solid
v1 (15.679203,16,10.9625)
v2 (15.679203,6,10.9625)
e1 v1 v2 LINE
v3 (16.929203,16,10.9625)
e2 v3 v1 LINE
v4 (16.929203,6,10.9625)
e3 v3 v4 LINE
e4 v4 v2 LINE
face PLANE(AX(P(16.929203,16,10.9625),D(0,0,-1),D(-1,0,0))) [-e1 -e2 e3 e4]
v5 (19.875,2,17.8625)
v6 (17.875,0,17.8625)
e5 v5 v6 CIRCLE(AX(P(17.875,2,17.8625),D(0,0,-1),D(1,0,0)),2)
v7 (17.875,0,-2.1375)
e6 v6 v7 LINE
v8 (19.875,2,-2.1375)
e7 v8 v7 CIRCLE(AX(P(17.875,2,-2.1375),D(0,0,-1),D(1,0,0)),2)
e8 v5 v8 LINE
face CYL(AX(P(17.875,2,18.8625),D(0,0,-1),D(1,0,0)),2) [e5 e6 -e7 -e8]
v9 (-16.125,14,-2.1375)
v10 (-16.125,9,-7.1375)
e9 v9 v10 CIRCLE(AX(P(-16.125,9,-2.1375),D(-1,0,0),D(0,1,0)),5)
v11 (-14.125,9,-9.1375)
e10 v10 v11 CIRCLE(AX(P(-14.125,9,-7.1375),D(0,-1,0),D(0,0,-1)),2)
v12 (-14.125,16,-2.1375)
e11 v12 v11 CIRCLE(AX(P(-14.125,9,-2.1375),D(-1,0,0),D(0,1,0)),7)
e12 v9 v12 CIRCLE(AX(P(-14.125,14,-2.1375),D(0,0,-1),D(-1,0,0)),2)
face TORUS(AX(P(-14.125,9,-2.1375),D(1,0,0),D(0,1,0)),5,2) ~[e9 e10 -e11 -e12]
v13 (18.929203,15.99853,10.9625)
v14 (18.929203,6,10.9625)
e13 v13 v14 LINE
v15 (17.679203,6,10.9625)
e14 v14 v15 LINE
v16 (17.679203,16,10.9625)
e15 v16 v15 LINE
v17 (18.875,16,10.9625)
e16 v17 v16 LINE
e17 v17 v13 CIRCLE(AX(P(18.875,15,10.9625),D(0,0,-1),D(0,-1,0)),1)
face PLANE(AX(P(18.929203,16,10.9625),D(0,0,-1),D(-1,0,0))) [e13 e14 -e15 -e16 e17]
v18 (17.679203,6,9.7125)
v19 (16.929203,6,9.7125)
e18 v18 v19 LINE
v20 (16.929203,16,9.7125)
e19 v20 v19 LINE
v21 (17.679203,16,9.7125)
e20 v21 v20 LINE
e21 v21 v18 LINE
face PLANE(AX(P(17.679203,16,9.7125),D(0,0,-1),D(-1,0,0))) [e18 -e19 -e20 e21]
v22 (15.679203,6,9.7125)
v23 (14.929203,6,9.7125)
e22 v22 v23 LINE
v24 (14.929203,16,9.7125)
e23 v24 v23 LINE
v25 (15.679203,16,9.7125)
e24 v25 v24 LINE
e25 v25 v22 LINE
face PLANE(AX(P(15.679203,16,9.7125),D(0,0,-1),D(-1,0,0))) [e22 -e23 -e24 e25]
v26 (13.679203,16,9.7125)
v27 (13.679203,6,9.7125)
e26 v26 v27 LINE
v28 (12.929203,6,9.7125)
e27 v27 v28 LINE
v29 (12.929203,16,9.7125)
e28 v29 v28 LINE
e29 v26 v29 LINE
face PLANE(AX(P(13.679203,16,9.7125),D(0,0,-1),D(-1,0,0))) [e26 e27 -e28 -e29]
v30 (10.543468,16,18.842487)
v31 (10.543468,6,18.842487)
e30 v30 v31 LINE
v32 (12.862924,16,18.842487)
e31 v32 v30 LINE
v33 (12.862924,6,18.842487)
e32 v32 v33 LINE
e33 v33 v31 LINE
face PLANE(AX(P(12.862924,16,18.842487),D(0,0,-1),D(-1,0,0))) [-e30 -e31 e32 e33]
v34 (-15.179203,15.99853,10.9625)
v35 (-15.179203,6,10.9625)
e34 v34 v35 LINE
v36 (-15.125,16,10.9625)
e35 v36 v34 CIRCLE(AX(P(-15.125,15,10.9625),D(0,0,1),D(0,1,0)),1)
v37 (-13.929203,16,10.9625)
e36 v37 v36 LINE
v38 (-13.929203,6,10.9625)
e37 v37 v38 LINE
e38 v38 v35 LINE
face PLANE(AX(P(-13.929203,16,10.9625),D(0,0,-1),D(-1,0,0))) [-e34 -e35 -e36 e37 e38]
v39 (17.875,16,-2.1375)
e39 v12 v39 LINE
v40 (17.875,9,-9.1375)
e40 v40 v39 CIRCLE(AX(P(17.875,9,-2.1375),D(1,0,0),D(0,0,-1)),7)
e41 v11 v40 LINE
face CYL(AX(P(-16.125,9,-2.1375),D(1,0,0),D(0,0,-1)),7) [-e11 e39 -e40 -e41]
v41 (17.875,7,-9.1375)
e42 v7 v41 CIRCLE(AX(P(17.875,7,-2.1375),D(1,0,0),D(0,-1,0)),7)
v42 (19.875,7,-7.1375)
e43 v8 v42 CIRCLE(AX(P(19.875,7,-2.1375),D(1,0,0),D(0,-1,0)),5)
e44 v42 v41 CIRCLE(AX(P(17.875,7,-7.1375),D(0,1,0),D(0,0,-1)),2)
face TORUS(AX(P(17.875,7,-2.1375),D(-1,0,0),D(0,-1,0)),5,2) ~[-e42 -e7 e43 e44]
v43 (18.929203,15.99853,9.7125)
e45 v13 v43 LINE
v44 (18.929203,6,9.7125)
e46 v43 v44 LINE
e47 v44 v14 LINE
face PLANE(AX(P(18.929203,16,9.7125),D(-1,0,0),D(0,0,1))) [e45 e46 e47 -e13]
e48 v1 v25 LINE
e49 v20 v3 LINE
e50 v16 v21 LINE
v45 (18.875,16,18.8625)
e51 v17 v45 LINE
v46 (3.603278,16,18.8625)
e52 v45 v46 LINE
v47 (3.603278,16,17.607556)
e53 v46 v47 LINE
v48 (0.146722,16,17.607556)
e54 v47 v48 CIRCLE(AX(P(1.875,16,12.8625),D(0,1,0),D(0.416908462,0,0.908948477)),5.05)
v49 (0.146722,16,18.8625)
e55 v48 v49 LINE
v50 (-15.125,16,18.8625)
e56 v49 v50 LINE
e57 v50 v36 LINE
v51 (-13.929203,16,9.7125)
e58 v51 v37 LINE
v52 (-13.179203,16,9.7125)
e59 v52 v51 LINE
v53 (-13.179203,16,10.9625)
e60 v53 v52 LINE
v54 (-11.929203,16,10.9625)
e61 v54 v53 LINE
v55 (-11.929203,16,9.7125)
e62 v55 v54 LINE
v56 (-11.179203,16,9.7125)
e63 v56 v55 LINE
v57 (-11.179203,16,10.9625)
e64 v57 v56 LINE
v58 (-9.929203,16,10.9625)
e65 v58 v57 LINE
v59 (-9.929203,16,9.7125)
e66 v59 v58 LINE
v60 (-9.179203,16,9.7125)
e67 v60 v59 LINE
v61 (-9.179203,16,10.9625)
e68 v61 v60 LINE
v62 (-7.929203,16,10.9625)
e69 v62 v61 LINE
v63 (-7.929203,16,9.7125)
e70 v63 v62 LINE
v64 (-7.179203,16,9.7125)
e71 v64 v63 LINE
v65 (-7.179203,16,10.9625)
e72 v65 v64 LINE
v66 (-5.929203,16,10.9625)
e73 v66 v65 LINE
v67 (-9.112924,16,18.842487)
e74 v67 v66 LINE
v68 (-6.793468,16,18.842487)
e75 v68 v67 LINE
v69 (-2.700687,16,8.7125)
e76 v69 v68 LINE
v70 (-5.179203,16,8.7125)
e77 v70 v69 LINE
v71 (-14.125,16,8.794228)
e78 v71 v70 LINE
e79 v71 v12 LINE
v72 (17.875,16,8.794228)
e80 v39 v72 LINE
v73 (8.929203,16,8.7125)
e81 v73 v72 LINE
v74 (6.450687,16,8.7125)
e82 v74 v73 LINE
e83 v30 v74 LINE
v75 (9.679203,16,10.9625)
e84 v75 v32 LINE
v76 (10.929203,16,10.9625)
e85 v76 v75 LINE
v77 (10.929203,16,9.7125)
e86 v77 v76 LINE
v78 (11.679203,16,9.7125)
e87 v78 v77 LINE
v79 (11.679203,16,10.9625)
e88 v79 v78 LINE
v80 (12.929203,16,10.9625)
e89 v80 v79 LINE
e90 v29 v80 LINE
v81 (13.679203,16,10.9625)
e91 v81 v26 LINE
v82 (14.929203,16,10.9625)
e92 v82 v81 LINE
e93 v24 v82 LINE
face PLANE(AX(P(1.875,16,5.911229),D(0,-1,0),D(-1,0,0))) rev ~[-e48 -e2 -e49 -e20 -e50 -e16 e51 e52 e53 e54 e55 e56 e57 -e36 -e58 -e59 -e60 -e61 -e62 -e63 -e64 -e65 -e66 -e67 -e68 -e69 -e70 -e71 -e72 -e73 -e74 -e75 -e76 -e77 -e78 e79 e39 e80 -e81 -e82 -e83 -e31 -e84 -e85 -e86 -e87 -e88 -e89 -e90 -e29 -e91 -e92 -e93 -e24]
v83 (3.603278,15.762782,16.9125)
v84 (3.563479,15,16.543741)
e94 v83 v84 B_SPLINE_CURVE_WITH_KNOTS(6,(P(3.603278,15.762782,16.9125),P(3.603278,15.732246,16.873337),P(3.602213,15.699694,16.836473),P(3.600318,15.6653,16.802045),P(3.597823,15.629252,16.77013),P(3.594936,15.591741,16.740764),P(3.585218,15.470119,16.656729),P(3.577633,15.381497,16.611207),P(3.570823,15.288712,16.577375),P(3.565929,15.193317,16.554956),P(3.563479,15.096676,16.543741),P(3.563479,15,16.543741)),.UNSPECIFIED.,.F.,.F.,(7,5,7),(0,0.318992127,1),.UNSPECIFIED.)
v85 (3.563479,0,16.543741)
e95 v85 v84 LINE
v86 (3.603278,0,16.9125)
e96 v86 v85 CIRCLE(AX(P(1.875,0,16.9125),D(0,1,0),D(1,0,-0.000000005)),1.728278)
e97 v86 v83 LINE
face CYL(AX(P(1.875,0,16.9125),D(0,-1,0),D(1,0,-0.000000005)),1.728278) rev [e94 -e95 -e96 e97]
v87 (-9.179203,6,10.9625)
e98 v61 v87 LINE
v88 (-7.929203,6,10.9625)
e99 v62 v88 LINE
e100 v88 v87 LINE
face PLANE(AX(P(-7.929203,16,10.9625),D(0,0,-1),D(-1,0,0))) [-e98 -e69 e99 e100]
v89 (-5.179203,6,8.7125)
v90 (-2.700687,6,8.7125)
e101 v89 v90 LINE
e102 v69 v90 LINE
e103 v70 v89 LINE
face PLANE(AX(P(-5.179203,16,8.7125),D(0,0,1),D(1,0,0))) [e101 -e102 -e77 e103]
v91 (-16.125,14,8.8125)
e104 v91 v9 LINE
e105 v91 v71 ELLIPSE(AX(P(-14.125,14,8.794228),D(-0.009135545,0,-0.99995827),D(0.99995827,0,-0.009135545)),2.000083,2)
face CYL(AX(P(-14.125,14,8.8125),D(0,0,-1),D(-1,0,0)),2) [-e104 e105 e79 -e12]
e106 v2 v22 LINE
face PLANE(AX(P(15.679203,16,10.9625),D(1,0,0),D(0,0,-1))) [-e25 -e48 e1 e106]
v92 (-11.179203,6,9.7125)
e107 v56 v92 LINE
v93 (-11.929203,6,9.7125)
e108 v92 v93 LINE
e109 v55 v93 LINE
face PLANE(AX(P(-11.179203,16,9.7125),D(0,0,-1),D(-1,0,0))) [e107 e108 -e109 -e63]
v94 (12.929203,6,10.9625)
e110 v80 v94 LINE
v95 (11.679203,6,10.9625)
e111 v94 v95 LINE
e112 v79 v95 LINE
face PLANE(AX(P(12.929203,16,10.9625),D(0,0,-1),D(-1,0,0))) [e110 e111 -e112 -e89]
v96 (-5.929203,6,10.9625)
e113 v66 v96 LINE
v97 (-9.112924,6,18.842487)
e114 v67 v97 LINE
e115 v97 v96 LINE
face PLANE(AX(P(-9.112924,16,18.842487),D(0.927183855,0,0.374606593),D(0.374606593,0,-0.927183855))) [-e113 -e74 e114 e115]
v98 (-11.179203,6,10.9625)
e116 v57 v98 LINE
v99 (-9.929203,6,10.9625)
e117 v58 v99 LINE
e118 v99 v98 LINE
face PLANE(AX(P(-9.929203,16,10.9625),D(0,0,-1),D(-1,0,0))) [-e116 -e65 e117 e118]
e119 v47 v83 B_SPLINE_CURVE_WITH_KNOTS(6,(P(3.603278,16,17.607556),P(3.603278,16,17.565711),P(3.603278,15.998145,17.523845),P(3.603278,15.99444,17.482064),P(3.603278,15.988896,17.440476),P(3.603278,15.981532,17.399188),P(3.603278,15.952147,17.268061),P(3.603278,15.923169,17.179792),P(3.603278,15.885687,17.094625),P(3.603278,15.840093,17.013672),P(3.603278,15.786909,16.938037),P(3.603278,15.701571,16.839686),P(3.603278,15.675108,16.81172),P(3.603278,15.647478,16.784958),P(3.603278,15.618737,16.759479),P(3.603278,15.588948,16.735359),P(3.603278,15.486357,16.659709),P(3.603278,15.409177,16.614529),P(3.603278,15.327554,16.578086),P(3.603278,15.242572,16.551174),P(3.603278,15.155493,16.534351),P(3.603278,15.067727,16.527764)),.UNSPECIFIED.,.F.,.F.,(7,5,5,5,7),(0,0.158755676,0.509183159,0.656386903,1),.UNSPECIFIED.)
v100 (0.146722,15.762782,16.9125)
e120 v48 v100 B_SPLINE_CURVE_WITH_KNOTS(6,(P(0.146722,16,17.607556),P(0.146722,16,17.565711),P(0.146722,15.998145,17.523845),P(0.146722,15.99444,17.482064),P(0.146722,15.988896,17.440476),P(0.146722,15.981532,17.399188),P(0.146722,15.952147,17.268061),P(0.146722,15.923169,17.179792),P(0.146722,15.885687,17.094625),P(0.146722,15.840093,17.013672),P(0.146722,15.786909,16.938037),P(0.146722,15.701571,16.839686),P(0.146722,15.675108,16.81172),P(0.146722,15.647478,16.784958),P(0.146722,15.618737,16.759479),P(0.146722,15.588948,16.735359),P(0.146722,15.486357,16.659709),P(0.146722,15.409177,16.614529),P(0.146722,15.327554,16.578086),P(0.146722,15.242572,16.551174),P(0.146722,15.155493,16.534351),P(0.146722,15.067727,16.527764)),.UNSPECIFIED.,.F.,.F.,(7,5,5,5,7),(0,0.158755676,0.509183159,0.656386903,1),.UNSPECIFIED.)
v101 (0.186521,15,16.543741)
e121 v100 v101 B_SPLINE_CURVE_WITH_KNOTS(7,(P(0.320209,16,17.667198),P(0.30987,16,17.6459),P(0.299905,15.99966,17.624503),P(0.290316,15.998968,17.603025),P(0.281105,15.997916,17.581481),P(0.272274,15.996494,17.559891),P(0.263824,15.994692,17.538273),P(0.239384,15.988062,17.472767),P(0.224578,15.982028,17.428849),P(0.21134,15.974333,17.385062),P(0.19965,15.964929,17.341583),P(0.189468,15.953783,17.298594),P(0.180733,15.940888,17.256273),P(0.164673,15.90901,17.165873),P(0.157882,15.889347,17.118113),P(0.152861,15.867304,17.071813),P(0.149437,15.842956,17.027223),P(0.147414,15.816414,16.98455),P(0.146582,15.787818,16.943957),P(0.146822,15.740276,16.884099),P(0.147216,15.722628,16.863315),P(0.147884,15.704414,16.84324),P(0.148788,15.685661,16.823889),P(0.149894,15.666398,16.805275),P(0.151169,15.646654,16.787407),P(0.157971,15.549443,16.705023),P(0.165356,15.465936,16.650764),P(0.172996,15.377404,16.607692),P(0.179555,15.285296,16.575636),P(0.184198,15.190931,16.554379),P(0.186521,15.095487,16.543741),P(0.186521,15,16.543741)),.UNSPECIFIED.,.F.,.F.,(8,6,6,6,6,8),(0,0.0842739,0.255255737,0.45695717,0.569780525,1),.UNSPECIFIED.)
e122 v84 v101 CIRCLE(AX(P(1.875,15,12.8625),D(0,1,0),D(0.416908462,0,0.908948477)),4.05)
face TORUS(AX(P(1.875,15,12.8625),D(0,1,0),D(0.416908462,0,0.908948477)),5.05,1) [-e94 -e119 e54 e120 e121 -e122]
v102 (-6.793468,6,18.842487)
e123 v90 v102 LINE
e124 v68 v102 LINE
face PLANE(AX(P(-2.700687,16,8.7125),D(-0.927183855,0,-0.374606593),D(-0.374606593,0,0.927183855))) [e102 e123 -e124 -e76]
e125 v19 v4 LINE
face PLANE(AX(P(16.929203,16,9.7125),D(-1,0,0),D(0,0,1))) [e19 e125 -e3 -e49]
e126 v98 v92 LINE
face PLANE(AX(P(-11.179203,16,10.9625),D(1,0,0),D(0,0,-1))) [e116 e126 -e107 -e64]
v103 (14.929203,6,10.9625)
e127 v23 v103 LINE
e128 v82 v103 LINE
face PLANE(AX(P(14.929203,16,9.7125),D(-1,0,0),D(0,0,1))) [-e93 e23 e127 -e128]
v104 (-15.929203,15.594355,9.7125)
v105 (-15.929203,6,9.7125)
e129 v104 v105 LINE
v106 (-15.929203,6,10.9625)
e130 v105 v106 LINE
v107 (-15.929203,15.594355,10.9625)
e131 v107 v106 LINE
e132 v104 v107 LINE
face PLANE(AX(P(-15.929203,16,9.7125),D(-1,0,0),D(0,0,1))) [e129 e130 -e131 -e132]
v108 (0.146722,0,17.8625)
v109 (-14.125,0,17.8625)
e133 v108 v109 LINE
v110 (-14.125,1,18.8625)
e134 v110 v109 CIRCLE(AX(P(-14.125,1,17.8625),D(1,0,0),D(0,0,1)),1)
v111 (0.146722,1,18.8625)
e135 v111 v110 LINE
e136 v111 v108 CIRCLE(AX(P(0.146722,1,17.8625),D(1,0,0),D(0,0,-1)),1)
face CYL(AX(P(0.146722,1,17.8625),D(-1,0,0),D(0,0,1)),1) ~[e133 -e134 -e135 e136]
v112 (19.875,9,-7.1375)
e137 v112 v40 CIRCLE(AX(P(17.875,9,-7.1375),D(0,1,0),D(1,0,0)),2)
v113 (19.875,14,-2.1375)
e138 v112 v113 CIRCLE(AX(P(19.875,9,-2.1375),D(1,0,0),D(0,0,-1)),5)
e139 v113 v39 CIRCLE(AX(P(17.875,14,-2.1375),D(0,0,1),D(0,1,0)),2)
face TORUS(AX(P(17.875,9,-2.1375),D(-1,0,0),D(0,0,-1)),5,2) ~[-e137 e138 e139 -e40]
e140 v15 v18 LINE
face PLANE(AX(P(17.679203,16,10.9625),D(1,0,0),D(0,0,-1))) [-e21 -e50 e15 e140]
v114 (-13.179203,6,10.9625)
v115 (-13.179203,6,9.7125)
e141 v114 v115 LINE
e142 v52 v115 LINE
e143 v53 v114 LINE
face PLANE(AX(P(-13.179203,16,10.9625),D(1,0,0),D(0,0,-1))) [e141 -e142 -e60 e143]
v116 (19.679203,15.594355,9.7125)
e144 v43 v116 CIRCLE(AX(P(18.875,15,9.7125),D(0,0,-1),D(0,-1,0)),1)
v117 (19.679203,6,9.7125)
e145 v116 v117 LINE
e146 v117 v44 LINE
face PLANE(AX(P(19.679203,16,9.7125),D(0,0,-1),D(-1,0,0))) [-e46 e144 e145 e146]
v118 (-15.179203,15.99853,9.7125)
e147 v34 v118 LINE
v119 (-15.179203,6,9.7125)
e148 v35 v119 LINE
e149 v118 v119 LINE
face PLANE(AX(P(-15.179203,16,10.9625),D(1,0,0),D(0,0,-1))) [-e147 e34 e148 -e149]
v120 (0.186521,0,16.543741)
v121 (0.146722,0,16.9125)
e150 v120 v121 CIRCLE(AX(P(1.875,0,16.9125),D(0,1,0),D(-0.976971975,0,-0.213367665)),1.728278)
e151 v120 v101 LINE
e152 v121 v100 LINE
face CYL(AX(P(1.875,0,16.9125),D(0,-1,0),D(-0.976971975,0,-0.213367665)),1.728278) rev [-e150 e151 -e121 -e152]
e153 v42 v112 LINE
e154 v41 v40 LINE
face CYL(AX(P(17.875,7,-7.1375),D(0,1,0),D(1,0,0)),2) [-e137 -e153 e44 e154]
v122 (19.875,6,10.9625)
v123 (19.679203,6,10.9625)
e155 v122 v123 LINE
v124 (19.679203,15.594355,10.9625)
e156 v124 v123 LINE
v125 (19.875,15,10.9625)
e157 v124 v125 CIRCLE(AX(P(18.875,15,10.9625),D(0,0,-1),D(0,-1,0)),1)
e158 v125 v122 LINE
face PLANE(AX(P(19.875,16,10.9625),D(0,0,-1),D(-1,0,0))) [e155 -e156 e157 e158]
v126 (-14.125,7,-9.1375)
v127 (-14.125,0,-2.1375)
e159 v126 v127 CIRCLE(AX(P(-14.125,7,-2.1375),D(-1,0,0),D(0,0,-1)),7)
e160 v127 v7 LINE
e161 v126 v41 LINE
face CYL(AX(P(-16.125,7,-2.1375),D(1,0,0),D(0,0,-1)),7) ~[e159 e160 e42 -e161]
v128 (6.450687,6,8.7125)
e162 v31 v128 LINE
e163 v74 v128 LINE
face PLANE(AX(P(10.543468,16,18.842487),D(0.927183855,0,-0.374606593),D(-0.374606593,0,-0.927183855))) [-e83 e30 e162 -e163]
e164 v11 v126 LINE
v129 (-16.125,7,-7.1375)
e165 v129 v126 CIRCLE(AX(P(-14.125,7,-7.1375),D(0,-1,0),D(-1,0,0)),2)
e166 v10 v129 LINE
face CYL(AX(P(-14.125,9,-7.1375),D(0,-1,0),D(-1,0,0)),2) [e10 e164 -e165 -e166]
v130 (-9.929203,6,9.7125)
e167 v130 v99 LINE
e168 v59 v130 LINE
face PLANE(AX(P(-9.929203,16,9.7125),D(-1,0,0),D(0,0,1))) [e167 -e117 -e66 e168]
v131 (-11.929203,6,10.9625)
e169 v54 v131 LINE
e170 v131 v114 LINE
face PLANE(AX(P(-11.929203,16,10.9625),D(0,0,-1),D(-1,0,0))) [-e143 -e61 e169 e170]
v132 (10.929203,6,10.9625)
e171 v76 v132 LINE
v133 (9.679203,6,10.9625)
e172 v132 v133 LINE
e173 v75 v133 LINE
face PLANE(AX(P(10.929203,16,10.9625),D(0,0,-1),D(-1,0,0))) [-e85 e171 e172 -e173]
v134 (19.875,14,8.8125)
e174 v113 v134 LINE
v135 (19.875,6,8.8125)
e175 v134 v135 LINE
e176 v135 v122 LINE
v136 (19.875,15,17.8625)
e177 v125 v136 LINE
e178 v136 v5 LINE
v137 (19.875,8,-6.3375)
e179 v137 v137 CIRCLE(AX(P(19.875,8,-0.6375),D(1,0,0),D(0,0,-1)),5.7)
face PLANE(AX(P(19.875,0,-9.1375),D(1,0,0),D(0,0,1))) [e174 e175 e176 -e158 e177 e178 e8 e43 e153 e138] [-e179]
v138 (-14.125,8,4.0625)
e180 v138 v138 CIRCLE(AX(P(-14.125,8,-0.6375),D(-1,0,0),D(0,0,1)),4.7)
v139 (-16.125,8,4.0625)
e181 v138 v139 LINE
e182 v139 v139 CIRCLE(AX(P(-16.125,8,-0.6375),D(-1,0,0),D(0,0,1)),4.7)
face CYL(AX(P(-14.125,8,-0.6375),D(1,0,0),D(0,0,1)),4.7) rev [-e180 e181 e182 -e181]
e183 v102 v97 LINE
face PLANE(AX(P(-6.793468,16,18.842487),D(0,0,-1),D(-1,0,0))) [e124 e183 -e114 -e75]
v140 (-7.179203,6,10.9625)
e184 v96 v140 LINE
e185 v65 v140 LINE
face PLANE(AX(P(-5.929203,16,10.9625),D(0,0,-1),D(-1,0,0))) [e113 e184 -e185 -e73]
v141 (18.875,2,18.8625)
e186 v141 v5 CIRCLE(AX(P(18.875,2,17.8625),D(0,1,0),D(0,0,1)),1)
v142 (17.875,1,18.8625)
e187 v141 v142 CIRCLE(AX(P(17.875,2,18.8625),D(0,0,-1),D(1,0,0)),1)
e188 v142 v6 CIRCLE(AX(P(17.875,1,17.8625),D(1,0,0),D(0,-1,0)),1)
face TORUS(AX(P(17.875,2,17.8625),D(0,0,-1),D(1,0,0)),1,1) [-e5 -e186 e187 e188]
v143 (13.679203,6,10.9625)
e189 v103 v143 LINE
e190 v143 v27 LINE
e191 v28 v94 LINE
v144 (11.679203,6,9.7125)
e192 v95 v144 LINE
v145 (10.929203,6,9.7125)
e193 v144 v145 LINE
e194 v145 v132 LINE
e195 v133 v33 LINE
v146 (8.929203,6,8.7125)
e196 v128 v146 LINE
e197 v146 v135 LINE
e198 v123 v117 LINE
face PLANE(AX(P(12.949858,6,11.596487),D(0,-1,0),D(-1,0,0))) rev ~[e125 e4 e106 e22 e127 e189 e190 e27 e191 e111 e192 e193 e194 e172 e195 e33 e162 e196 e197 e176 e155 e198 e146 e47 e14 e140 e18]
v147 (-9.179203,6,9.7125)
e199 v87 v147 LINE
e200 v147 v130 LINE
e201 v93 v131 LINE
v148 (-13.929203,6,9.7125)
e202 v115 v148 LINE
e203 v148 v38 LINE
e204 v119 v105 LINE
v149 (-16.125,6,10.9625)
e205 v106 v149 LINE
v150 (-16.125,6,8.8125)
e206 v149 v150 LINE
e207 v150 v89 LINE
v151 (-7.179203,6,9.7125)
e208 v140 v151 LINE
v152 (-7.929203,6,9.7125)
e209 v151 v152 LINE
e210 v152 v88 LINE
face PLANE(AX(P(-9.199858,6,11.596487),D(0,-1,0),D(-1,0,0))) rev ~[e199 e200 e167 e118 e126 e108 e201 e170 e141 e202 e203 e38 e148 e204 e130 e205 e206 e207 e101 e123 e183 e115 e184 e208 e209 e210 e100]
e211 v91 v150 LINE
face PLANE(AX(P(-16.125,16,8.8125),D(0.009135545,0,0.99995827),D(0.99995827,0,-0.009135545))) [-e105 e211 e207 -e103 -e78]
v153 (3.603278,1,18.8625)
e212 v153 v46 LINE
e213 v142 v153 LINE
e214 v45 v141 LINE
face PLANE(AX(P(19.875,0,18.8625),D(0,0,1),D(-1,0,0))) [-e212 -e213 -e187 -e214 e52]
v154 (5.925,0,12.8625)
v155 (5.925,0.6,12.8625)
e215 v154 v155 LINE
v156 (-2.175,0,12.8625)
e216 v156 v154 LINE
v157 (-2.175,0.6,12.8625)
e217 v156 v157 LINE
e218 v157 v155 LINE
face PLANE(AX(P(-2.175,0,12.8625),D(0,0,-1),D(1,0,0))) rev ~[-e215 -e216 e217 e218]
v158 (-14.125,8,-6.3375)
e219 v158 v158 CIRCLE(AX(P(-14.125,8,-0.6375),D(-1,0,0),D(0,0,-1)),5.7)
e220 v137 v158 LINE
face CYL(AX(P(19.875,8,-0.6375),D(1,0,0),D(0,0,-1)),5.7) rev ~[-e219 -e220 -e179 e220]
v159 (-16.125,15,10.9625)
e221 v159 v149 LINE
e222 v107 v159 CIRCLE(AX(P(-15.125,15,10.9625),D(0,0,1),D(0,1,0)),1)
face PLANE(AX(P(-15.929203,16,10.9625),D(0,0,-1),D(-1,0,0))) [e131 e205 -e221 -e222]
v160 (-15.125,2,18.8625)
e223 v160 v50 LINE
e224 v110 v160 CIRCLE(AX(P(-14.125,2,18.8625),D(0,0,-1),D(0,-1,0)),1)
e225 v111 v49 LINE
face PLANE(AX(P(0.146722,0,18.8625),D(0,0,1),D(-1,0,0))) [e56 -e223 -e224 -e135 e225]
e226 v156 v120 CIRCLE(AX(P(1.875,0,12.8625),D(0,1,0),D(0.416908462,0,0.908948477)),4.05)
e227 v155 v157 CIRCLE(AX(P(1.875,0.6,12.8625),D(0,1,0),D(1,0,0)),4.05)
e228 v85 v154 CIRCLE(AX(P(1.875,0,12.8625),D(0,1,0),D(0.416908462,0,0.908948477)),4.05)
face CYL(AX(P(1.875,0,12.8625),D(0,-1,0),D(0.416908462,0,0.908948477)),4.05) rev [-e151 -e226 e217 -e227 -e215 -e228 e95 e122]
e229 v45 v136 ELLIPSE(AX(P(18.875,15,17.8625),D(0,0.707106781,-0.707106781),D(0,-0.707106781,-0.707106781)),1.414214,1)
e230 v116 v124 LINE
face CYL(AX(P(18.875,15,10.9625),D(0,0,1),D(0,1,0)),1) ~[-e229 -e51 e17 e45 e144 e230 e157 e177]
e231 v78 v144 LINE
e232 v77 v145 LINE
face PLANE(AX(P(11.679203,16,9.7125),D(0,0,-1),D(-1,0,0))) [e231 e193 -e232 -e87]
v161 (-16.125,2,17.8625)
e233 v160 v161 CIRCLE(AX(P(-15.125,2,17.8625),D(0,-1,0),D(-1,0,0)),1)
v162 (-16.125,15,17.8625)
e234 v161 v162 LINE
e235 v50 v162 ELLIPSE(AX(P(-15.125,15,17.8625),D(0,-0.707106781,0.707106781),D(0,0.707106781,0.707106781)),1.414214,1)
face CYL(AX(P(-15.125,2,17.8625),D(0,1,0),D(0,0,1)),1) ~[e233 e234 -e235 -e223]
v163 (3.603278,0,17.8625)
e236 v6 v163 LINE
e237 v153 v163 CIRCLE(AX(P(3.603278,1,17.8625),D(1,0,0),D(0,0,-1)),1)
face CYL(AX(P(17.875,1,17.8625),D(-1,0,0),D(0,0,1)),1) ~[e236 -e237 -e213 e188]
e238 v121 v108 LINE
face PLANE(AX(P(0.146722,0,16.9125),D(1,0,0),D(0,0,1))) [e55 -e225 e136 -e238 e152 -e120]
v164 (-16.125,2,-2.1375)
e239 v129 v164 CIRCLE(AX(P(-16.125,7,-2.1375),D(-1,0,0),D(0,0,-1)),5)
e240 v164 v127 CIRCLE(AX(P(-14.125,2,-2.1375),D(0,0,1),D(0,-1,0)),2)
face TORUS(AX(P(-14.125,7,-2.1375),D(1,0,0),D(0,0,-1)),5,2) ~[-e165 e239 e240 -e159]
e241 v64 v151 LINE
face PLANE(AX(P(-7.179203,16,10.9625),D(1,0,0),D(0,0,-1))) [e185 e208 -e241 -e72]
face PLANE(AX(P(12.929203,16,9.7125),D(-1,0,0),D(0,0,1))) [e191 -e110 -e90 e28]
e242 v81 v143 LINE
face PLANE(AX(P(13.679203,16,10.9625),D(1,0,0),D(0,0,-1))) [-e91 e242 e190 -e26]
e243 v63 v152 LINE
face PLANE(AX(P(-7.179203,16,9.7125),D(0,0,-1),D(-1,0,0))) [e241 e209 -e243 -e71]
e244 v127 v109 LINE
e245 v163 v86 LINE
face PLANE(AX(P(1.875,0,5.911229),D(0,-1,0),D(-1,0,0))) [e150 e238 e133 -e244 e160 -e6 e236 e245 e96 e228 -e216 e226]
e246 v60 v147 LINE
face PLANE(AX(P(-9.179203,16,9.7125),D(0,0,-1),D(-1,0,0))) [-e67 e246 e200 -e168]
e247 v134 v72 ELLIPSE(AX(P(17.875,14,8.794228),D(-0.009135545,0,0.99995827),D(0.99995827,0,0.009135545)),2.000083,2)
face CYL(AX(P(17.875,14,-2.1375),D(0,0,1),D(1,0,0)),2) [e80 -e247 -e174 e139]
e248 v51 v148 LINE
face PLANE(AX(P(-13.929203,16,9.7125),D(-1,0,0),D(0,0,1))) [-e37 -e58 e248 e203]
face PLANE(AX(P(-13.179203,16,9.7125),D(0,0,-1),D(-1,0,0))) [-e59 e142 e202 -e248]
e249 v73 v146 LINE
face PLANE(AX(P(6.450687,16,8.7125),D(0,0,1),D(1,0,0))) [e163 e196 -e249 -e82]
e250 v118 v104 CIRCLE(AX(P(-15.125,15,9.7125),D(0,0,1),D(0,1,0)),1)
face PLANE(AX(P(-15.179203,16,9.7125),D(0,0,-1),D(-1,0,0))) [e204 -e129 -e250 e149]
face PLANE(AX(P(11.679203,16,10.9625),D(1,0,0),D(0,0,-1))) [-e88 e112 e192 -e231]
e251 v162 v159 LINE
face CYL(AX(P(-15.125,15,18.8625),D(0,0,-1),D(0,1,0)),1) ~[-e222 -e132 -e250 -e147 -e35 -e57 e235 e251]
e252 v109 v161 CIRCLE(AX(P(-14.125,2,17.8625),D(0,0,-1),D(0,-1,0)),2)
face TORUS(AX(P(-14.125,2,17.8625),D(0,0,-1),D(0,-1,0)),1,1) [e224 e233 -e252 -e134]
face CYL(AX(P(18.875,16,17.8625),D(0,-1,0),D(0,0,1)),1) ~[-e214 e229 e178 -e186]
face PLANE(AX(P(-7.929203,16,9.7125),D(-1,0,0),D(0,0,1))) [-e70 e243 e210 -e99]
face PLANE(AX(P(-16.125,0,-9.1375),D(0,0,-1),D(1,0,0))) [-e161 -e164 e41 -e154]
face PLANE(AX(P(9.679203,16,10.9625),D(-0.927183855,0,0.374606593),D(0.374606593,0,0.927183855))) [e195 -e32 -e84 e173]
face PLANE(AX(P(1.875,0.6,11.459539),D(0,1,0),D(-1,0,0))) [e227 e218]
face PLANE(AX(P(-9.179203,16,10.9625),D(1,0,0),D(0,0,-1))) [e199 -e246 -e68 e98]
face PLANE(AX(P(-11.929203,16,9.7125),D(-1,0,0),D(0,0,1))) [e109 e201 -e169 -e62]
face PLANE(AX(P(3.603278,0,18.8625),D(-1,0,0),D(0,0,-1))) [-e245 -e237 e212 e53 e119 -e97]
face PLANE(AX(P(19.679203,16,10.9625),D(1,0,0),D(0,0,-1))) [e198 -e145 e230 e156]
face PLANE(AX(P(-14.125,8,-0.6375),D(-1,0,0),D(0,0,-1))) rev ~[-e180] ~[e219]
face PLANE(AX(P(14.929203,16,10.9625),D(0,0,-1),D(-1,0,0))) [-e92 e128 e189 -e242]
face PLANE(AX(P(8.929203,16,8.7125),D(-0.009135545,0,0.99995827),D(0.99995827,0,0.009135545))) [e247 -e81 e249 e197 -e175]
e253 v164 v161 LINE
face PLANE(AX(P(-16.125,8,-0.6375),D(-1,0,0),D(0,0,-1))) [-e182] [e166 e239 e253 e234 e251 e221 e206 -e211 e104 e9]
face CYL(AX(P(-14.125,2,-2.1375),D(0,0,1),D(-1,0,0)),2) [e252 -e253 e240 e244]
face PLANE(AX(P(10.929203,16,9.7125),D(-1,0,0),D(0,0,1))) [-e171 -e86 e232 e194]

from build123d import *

# Parameters (mm, degrees)
SALIENTE_EXTRUIR1_DEPTH = 16
CROQUIS5_R              = 5.7
CORTAR_EXTRUIR1_DEPTH   = 38
SALIENTE_EXTRUIR2_DEPTH = 0.6
CORTAR_EXTRUIR2_DEPTH   = 10
REDONDEO1_R             = 7
REDONDEO2_R             = 2
REDONDEO3_R             = 1
REDONDEO5_R             = 1
SALIENTE_EXTRUIR3_START = -2
CROQUIS10_R             = 5.7
CROQUIS10_R_2           = 4.7
SALIENTE_EXTRUIR3_DEPTH = 2


with BuildPart() as part:
    # Croquis1 → Saliente-Extruir1 (new body)
    with BuildSketch(Plane(origin=(0, 0, 0), x_dir=(1, 0, 0), z_dir=(0, 1, 0))):
        with BuildLine():
            Line((-16.125, 9.1375), (19.875, 9.1375))
            Line((19.875, 9.1375), (19.875, -18.8625))
            Line((19.875, -18.8625), (3.603278106, -18.8625))
            Line((3.603278106, -18.8625), (3.603278106, -16.9125))
            ThreePointArc((3.603278106, -16.9125), (3.593299591, -16.727049938), (3.563479273, -16.543741332))
            ThreePointArc((3.563479273, -16.543741332), (1.875, -8.8125), (0.186520727, -16.543741332))
            ThreePointArc((0.186520727, -16.543741332), (0.156700409, -16.727049938), (0.146721894, -16.9125))
            Line((0.146721894, -16.9125), (0.146721894, -18.8625))
            Line((0.146721894, -18.8625), (-16.125, -18.8625))
            Line((-16.125, -18.8625), (-16.125, 9.1375))
        make_face()
    extrude(amount=SALIENTE_EXTRUIR1_DEPTH)

    # Croquis5 → Cortar-Extruir1 (cut)
    with BuildSketch(Plane(origin=(19.875, 0, 0), x_dir=(0, 0, -1), z_dir=(1, 0, 0))):
        with Locations((0.6375, 8)):
            Circle(CROQUIS5_R)
    extrude(amount=-CORTAR_EXTRUIR1_DEPTH, mode=Mode.SUBTRACT)

    # Croquis8 → Saliente-Extruir2 (add)
    with BuildSketch(Plane.XZ):
        with BuildLine():
            Line((-2.175, 12.8625), (5.925, 12.8625))
            ThreePointArc((5.925, 12.8625), (1.875, 8.8125), (-2.175, 12.8625))
        make_face()
    extrude(amount=-SALIENTE_EXTRUIR2_DEPTH)

    # Croquis9 → Cortar-Extruir2 (cut)
    with BuildSketch(Plane(origin=(0, 16, 0), x_dir=(1, 0, 0), z_dir=(0, 1, 0))):
        Polygon((-15.929202857, -9.7125), (-15.929202857, -10.9625), (-16.125, -10.9625), (-16.125, -8.8125), (-5.179202857, -8.7125), (-2.700687259, -8.7125), (-6.793467705, -18.842487075), (-9.112924295, -18.842487075), (-5.929202857, -10.9625), (-7.179202857, -10.9625), (-7.179202857, -9.7125), (-7.929202857, -9.7125), (-7.929202857, -10.9625), (-9.179202857, -10.9625), (-9.179202857, -9.7125), (-9.929202857, -9.7125), (-9.929202857, -10.9625), (-11.179202857, -10.9625), (-11.179202857, -9.7125), (-11.929202857, -9.7125), (-11.929202857, -10.9625), (-13.179202857, -10.9625), (-13.179202857, -9.7125), (-13.929202857, -9.7125), (-13.929202857, -10.9625), (-15.179202857, -10.9625), (-15.179202857, -9.7125), align=None)
        Polygon((12.862924295, -18.842487075), (10.543467705, -18.842487075), (6.450687259, -8.7125), (8.929202857, -8.7125), (19.875, -8.8125), (19.875, -10.9625), (19.679202857, -10.9625), (19.679202857, -9.7125), (18.929202857, -9.7125), (18.929202857, -10.9625), (17.679202857, -10.9625), (17.679202857, -9.7125), (16.929202857, -9.7125), (16.929202857, -10.9625), (15.679202857, -10.9625), (15.679202857, -9.7125), (14.929202857, -9.7125), (14.929202857, -10.9625), (13.679202857, -10.9625), (13.679202857, -9.7125), (12.929202857, -9.7125), (12.929202857, -10.9625), (11.679202857, -10.9625), (11.679202857, -9.7125), (10.929202857, -9.7125), (10.929202857, -10.9625), (9.679202857, -10.9625), align=None)
    extrude(amount=-CORTAR_EXTRUIR2_DEPTH, mode=Mode.SUBTRACT)

    # Redondeo1
    redondeo1_edges = [part.edges().sort_by_distance(p)[0] for p in [
        (1.875, 16, -9.1375),
        (1.875, 0, -9.1375),
    ]]
    fillet(redondeo1_edges, radius=REDONDEO1_R)

    # Redondeo2
    redondeo2_edges = [part.edges().sort_by_distance(p)[0] for p in [
        (19.875, 16, 3.3375),
        (-16.125, 16, 3.3375),
        (-16.125, 8, -9.1375),
        (-16.125, 0, 8.3625),
        (-16.125, 2.050252532, -7.087247468),
        (-16.125, 13.949747468, -7.087247468),
        (19.875, 8, -9.1375),
        (19.875, 2.050252532, -7.087247468),
        (19.875, 13.949747468, -7.087247468),
        (19.875, 0, 8.3625),
    ]]
    fillet(redondeo2_edges, radius=REDONDEO2_R)

    # Redondeo3
    redondeo3_edges = [part.edges().sort_by_distance(p)[0] for p in [
        (1.875, 16, 8.8125),
    ]]
    fillet(redondeo3_edges, radius=REDONDEO3_R)

    # Redondeo5
    redondeo5_edges = [part.edges().sort_by_distance(p)[0] for p in [
        (10.739139053, 0, 18.8625),
        (19.289213562, 0.585786438, 18.8625),
        (-6.989139053, 0, 18.8625),
        (-15.539213562, 0.585786438, 18.8625),
        (19.875, 9, 18.8625),
        (-16.125, 9, 18.8625),
        (-16.125, 16, 14.9125),
        (19.875, 16, 14.9125),
    ]]
    fillet(redondeo5_edges, radius=REDONDEO5_R)

    # Croquis10 → Saliente-Extruir3 (add)
    with BuildSketch(Plane.ZY.offset(16.125).offset(SALIENTE_EXTRUIR3_START)):
        with Locations(Location((-0.6375, 8, 0), (0, 0, 180))):
            Circle(CROQUIS10_R)
        with Locations((-0.6375, 8)):
            Circle(CROQUIS10_R_2, mode=Mode.SUBTRACT)
    extrude(amount=SALIENTE_EXTRUIR3_DEPTH)


solid = part.part
